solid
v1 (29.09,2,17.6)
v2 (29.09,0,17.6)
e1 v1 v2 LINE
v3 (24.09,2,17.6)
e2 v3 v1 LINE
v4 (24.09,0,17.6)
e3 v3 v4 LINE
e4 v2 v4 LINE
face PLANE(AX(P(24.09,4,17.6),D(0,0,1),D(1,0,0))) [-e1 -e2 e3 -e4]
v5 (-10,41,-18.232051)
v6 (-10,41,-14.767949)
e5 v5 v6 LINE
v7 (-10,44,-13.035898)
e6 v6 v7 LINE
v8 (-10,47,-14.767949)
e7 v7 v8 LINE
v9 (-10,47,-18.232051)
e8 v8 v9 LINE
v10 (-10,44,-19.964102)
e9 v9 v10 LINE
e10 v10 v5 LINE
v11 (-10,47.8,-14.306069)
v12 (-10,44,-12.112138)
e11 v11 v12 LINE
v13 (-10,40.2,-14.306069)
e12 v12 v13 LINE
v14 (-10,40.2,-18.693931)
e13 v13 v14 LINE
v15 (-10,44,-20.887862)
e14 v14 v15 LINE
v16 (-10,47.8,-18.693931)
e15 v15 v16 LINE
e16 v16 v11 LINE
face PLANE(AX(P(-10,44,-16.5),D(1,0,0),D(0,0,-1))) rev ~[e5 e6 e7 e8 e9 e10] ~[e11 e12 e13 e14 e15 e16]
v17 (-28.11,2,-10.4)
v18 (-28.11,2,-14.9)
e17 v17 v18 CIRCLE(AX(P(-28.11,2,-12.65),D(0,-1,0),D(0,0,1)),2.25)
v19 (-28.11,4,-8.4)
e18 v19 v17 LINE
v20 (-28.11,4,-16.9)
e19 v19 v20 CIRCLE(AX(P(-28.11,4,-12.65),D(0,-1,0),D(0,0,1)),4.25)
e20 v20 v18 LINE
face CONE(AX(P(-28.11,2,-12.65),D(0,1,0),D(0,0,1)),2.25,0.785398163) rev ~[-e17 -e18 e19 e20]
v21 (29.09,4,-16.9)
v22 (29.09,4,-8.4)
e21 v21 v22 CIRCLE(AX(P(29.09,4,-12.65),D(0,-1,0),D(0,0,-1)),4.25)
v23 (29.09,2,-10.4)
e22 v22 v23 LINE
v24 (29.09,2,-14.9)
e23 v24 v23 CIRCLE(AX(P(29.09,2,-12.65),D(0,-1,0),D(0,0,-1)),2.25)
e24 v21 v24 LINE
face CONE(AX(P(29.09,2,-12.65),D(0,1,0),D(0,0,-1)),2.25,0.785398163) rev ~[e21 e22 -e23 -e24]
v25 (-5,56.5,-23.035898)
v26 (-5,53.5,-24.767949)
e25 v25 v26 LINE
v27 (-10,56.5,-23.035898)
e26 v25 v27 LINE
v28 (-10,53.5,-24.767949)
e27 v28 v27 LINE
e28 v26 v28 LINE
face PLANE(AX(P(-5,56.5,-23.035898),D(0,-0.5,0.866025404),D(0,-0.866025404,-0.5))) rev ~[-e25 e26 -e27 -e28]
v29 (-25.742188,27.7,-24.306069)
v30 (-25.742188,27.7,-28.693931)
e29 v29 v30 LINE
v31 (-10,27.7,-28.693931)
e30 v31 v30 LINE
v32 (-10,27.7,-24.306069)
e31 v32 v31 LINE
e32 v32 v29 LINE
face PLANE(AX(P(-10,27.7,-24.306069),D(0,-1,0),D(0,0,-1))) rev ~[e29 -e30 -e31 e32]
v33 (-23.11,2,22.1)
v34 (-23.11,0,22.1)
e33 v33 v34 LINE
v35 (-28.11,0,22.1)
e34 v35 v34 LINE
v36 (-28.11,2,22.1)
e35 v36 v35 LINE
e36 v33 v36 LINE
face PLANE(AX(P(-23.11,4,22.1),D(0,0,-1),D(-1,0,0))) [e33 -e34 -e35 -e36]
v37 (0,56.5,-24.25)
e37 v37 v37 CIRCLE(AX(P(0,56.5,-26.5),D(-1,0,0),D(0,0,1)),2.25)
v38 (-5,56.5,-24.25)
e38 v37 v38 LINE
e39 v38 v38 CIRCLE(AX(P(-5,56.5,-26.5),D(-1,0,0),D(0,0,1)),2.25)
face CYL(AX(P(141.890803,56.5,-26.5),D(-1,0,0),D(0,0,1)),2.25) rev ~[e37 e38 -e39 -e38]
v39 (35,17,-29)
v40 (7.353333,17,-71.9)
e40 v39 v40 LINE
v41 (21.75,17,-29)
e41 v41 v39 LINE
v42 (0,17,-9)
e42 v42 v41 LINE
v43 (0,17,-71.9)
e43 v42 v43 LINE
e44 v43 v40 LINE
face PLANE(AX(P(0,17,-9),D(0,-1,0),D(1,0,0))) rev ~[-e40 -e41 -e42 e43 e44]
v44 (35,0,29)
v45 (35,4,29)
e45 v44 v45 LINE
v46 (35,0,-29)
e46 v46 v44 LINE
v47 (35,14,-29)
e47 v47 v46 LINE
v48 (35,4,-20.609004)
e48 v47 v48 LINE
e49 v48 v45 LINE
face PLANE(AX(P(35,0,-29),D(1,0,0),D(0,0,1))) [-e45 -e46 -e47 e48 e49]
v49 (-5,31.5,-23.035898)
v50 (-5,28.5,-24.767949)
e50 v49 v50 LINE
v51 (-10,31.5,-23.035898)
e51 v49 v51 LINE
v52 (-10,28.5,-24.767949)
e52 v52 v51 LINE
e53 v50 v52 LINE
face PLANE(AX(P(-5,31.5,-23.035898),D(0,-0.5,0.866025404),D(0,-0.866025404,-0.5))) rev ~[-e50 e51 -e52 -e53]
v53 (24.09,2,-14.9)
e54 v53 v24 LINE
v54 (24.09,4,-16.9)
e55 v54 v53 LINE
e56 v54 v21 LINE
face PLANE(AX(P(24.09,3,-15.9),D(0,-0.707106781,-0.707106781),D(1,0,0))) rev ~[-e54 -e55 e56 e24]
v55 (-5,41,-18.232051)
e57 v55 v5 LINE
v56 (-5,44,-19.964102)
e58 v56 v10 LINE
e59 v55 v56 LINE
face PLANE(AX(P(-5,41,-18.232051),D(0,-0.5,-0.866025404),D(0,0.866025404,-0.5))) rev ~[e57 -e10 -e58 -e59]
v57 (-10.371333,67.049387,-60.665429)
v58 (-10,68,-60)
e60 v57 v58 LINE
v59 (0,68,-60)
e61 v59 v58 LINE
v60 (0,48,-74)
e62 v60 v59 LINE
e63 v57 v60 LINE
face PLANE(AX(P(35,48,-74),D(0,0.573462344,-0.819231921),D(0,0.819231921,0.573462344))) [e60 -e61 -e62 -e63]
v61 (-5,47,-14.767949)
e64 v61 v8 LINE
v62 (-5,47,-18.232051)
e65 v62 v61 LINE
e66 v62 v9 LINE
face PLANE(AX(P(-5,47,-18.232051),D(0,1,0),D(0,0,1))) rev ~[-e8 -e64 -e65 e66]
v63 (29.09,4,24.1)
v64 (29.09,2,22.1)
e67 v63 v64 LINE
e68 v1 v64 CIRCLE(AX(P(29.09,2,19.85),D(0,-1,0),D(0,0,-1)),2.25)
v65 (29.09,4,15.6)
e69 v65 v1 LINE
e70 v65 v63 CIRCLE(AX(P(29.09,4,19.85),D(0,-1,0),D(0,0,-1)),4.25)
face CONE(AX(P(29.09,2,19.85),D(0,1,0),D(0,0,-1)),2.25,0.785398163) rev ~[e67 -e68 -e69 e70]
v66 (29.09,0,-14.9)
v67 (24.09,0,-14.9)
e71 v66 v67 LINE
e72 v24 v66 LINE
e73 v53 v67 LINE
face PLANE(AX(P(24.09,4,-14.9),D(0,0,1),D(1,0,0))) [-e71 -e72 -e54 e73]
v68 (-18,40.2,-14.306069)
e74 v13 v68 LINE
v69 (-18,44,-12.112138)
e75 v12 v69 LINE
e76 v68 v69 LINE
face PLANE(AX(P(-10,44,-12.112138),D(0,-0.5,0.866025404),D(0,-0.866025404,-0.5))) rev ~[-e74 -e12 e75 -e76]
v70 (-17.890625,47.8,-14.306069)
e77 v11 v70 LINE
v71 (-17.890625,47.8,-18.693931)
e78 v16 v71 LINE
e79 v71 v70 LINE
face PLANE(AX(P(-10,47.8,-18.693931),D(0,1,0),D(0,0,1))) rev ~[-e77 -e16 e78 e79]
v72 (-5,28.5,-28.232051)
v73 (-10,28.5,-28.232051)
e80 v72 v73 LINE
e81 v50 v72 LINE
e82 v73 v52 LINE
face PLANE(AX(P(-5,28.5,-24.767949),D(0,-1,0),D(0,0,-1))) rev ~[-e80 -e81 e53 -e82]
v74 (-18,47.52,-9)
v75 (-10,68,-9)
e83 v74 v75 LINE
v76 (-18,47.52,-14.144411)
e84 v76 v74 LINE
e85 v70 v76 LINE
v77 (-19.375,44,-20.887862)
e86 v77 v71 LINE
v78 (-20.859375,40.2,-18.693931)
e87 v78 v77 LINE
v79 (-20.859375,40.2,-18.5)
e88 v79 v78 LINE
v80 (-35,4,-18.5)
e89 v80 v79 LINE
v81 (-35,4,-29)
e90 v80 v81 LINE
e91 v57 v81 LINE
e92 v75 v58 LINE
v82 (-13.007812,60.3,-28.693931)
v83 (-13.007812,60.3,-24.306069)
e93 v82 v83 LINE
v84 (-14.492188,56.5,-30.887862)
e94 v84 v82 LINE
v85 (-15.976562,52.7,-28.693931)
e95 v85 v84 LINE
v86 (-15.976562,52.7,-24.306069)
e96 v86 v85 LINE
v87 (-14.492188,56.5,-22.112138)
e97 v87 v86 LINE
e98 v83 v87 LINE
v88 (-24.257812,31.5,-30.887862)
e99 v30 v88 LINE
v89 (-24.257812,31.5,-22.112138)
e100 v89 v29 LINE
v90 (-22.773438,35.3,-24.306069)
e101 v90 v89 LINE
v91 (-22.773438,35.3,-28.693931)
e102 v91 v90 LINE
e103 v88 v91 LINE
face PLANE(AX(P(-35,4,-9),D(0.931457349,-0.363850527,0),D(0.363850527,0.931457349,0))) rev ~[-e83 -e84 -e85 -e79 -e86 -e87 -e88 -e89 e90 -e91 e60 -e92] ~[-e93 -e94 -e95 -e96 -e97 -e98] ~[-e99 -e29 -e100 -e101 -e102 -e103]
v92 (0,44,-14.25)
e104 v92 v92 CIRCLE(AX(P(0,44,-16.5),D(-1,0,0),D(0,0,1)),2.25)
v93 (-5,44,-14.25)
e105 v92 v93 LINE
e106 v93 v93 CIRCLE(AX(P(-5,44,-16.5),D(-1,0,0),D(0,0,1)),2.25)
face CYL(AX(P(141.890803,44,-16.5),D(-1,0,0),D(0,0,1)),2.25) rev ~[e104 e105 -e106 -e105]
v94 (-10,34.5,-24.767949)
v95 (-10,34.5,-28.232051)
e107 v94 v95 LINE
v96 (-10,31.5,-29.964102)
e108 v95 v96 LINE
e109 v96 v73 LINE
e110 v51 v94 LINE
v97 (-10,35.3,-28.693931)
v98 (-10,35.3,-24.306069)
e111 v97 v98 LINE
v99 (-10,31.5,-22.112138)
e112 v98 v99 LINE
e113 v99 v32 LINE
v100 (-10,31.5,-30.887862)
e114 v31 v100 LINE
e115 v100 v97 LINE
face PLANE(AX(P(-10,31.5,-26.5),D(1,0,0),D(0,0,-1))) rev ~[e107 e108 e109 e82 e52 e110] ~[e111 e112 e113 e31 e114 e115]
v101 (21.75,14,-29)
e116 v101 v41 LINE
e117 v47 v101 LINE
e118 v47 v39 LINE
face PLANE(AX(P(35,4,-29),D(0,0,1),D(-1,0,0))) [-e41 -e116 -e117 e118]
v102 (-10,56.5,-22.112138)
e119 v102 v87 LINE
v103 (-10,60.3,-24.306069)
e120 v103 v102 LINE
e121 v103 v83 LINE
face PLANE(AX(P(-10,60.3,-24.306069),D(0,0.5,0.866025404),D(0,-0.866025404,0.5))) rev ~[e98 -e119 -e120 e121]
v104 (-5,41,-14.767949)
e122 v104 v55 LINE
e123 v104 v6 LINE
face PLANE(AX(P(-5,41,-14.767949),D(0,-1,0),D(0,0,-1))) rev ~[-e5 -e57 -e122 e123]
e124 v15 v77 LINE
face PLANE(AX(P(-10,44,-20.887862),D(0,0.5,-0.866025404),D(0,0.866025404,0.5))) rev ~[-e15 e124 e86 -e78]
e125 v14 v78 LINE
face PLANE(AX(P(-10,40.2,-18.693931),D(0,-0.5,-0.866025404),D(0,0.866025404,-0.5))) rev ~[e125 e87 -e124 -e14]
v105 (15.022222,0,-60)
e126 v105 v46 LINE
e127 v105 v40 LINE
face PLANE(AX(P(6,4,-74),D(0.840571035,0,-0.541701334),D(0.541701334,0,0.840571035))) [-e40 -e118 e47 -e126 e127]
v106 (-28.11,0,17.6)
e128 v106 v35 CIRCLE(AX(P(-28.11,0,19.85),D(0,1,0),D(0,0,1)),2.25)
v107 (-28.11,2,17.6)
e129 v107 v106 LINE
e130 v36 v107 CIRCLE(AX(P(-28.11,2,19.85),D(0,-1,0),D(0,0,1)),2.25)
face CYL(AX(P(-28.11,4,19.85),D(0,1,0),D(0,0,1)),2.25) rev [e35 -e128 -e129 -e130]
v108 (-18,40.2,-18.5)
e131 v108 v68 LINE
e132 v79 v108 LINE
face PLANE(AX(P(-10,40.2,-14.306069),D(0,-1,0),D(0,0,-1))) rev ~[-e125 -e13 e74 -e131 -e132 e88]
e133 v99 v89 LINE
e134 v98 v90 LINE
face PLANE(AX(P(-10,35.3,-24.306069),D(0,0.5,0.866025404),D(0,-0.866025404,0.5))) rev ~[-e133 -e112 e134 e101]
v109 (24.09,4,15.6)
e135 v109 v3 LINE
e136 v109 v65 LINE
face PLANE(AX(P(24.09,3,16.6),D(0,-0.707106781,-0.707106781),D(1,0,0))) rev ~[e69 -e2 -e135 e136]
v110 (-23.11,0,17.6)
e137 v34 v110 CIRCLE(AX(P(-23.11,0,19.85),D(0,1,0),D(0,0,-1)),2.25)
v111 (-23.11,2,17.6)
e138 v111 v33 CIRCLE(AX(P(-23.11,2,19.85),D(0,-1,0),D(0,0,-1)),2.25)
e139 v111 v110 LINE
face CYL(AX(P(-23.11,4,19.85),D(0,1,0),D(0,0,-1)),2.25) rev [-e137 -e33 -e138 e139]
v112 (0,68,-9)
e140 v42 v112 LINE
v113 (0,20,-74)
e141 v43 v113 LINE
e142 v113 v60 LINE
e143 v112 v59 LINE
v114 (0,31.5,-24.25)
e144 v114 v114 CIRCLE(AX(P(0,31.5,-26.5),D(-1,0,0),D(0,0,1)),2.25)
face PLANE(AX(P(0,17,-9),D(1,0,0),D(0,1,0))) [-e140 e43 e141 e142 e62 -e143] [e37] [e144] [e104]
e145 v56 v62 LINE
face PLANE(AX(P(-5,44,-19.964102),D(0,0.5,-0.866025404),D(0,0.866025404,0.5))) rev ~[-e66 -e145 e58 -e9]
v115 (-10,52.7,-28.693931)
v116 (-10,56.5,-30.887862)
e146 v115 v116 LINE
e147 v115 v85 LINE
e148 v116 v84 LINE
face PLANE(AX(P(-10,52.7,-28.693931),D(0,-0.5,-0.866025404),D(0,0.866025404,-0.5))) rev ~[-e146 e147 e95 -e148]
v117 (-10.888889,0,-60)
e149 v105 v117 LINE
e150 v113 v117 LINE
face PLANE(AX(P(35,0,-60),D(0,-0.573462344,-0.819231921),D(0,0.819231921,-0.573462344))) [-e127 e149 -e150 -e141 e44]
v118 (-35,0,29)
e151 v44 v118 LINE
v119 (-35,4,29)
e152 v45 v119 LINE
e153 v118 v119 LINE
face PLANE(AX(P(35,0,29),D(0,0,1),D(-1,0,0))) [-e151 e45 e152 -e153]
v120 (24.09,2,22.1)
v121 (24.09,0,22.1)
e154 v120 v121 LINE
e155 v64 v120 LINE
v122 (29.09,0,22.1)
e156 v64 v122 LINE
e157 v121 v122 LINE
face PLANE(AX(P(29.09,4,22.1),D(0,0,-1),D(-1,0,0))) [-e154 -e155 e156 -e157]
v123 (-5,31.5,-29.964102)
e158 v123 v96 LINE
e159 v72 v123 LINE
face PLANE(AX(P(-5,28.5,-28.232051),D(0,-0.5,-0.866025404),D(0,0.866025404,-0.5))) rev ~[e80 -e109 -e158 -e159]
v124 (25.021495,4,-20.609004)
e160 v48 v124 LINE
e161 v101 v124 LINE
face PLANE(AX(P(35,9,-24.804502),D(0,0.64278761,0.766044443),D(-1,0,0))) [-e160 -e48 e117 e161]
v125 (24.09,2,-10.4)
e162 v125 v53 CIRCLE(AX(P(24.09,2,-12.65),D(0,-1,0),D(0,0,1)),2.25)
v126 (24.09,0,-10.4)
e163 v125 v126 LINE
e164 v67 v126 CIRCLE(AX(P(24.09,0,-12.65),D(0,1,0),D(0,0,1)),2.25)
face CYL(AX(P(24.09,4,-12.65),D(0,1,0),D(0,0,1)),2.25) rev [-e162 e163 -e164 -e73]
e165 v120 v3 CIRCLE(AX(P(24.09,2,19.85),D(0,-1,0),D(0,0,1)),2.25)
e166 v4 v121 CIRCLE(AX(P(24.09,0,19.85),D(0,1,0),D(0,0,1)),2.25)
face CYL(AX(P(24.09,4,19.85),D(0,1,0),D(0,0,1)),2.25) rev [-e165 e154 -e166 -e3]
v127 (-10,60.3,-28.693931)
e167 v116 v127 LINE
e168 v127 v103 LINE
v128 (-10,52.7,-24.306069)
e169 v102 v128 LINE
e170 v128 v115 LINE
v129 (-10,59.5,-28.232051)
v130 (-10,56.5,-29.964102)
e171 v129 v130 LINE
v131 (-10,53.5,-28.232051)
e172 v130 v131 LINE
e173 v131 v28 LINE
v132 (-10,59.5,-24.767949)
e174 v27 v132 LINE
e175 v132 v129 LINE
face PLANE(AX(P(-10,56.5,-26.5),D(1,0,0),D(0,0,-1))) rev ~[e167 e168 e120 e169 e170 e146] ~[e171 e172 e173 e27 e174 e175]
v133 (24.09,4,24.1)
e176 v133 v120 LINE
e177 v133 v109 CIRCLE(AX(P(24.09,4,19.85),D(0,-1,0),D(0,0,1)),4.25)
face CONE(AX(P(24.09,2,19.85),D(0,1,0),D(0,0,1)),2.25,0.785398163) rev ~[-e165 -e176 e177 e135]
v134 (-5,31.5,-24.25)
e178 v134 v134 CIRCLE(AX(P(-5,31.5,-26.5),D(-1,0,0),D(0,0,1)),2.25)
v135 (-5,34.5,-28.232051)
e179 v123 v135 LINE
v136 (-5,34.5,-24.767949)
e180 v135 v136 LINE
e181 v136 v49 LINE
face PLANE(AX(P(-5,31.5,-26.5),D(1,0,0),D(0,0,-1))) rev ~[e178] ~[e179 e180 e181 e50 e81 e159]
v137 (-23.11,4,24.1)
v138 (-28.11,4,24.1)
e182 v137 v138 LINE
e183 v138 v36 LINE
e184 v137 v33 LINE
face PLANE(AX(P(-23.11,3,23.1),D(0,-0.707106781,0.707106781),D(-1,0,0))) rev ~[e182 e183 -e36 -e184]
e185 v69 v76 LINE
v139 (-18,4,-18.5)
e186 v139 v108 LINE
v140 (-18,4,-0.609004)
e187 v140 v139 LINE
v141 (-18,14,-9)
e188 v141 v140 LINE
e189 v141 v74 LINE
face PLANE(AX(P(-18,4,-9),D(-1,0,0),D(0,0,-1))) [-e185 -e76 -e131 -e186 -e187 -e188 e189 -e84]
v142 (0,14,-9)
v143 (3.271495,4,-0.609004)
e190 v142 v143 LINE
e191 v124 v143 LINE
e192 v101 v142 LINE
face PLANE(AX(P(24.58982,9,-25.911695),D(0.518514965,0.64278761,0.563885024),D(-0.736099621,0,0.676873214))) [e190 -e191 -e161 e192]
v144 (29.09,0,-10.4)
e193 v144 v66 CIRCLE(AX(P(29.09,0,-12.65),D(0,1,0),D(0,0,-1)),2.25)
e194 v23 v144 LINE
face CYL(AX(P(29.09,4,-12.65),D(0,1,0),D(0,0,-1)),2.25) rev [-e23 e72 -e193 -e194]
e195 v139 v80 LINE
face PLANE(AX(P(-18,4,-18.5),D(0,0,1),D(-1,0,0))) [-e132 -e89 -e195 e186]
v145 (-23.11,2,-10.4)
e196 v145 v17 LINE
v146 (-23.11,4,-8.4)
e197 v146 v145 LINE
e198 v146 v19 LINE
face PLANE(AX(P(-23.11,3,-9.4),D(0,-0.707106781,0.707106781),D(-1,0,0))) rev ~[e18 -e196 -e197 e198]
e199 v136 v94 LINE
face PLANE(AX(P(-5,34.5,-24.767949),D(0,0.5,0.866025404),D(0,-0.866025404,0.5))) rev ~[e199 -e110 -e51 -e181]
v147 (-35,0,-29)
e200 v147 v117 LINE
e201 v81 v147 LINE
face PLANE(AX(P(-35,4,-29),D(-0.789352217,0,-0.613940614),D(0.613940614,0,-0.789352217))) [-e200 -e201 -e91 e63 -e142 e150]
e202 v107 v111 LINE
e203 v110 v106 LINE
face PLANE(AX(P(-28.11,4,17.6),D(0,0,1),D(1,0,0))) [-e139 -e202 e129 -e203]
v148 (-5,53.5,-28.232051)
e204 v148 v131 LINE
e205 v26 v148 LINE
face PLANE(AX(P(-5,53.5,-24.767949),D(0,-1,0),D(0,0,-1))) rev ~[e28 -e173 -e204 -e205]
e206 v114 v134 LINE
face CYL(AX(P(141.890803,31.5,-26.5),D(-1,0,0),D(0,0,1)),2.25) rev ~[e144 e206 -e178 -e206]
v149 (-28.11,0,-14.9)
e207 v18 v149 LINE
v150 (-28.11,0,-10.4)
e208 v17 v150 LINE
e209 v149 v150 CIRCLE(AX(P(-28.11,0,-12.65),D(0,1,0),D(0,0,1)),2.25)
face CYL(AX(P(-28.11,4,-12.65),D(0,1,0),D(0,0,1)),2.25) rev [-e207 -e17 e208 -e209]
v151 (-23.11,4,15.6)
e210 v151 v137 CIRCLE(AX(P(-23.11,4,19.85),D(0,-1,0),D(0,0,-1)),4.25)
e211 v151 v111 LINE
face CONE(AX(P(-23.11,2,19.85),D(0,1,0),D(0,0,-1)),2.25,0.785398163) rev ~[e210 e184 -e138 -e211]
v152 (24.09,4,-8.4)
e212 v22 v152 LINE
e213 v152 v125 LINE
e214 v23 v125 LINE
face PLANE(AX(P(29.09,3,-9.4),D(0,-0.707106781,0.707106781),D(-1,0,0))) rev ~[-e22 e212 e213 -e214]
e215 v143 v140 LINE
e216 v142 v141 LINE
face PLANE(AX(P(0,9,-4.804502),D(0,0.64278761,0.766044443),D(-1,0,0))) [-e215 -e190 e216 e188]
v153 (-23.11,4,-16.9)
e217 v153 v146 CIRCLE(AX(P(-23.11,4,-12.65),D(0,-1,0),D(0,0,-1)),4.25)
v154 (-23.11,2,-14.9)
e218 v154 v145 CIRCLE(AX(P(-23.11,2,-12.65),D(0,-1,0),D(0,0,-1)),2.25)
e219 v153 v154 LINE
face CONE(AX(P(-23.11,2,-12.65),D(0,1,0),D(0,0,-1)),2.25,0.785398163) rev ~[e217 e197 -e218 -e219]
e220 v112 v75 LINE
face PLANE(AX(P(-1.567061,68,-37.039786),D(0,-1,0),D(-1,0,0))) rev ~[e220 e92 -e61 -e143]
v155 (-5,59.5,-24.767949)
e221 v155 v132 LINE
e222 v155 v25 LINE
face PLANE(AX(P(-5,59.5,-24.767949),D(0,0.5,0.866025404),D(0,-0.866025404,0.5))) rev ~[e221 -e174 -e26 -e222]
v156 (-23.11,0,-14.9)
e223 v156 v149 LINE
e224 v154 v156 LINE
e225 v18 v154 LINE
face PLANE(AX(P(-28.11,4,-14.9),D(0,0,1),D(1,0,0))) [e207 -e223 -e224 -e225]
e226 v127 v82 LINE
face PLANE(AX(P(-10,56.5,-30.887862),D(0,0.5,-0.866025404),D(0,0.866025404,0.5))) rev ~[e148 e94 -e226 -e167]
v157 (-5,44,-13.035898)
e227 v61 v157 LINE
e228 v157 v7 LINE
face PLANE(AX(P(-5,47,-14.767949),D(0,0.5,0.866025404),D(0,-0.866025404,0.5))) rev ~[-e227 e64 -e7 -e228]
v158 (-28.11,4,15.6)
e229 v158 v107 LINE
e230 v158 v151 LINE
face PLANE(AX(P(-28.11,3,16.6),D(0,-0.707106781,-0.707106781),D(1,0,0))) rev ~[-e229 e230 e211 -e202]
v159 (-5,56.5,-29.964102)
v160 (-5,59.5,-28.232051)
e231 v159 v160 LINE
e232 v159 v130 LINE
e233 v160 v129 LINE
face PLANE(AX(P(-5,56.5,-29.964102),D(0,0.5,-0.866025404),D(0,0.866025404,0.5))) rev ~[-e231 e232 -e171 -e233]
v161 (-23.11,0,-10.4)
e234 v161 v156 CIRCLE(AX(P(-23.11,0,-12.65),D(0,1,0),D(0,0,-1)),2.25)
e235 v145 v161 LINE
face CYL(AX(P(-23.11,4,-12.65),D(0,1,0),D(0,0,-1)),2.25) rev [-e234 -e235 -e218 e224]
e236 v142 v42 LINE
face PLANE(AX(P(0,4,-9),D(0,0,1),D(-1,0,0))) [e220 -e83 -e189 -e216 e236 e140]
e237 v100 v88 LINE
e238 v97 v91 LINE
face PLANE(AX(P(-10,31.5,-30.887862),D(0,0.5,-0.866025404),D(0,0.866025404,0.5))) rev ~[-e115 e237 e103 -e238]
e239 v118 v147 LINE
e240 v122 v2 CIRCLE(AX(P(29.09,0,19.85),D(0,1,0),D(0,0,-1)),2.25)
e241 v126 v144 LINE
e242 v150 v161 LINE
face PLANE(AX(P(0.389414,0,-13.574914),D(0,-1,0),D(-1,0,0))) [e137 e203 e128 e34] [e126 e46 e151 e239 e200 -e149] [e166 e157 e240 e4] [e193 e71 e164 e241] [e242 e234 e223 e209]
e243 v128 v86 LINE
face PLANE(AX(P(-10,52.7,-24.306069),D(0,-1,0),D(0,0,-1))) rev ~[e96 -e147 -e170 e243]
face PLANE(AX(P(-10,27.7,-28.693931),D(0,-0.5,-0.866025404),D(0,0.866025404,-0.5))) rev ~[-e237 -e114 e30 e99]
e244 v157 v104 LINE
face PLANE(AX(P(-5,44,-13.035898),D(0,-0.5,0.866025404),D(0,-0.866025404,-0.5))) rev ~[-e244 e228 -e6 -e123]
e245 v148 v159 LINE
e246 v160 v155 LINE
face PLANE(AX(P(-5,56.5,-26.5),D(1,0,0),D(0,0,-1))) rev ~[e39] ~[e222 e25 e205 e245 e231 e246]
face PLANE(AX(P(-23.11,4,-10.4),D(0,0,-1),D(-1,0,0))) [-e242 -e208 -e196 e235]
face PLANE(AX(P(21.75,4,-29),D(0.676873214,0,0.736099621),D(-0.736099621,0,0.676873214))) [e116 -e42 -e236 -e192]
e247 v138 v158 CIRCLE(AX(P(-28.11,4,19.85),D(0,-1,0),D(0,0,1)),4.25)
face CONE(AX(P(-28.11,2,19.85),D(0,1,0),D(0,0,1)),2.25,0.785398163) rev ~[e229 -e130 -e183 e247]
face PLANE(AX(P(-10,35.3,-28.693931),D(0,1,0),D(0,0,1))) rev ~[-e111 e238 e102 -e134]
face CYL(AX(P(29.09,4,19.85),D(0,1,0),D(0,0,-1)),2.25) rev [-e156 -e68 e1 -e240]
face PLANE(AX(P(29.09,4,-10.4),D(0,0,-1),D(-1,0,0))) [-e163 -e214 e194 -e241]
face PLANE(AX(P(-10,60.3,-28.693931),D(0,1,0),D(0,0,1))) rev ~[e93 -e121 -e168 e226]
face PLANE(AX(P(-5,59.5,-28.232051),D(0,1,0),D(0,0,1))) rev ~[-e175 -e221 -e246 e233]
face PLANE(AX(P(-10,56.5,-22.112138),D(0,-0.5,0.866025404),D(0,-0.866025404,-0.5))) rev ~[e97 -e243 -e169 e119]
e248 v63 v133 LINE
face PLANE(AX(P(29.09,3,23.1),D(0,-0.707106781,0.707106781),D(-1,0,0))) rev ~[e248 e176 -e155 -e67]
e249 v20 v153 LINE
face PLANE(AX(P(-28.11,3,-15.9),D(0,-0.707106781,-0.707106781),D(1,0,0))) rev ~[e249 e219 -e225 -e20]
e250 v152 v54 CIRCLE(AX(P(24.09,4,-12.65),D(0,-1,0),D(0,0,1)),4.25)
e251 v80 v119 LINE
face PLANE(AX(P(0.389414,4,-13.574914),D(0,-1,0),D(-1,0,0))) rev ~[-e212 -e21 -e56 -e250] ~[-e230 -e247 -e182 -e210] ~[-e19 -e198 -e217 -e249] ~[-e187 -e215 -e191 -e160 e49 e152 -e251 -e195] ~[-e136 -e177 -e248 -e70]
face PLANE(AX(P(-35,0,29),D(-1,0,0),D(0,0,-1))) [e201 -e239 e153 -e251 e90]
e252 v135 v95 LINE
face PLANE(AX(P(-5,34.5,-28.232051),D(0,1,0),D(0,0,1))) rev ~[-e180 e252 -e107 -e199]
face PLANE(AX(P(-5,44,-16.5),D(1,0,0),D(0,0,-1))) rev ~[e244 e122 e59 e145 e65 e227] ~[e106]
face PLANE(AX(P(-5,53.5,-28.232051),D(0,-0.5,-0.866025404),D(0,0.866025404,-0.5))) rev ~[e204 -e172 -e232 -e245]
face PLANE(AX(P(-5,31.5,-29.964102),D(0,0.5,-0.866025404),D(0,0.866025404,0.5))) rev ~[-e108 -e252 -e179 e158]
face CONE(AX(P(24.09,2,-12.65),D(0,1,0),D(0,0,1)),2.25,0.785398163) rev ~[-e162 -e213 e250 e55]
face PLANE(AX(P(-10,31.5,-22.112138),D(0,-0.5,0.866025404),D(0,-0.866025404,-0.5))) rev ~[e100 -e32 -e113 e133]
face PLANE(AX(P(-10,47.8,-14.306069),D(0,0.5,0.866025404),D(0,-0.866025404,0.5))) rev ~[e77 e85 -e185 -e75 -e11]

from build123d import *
from OCP.BRepFilletAPI import BRepFilletAPI_MakeChamfer

# Parameters (mm, degrees)
BOSS_EXTRUDE1_DEPTH        = 4
BOSS_EXTRUDE2_DEPTH        = 64
SKETCH3_W                  = 35
SKETCH3_H                  = 51
CUT_EXTRUDE1_DEPTH         = 101.369318021
CUT_EXTRUDE2_DEPTH         = 123.474487139
CHAMFER1_SIZE              = 10
CHAMFER1_SIZE2             = 8.390996312
F_4_5_4_5_DIAMETER_HOLE1_D = 4.5
CUT_EXTRUDE3_DEPTH         = 109.166538264
CUT_EXTRUDE4_DEPTH         = 111.113577728
CUT_EXTRUDE5_DEPTH         = 10
CHAMFER3_SIZE              = 2


with BuildPart() as part:
    # Sketch1 → Boss-Extrude1 (new body)
    with BuildSketch(Plane(origin=(0, 0, 0), x_dir=(1, 0, 0), z_dir=(0, 1, 0))):
        Polygon((-35, 29), (0, 74), (6, 74), (35, 29), (35, -29), (-35, -29), align=None)
    extrude(amount=BOSS_EXTRUDE1_DEPTH)

    # Sketch2 → Boss-Extrude2 (add)
    with BuildSketch(Plane(origin=(0, 4, 0), x_dir=(1, 0, 0), z_dir=(0, 1, 0))):
        Polygon((35, 29), (21.75, 29), (0, 9), (-18, 9), (-18, 18.5), (-35, 18.5), (-35, 29), (0, 74), (6, 74), align=None)
    extrude(amount=BOSS_EXTRUDE2_DEPTH)

    # Sketch3 → Cut-Extrude1 (cut, through all)
    with BuildSketch(Plane.XY.offset(-9)):
        Polygon((-35, 4), (-10, 68), (-35, 68), align=None)
        with Locations((17.5, 42.5)):
            Rectangle(SKETCH3_W, SKETCH3_H)
    extrude(amount=-CUT_EXTRUDE1_DEPTH, mode=Mode.SUBTRACT)

    # Sketch4 → Cut-Extrude2 (cut, through all)
    with BuildSketch(Plane(origin=(35, 0, 0), x_dir=(0, 0, -1), z_dir=(1, 0, 0))):
        Polygon((60, 0), (74, 20), (74, 0), align=None)
        Polygon((60, 68), (74, 68), (74, 48), align=None)
    extrude(amount=-CUT_EXTRUDE2_DEPTH, mode=Mode.SUBTRACT)

    # Chamfer1: one chamfer whose edges measure the first distance from different faces: ONE call of the kernel's chamfer builder (chamfer() names one face for all edges)
    chamfer1_edges_1 = [part.edges().sort_by_distance(p)[0] for p in [
        (-9, 4, -9),
    ]]
    chamfer1_side_1 = [part.faces().sort_by_distance(p)[0] for p in [
        (-8.515151515, 34.072854864, -9),
    ]]
    chamfer1_edges_2 = [part.edges().sort_by_distance(p)[0] for p in [
        (10.875, 4, -19),
    ]]
    chamfer1_side_2 = [part.faces().sort_by_distance(p)[0] for p in [
        (10.875, 10.5, -19),
    ]]
    chamfer1_edges_3 = [part.edges().sort_by_distance(p)[0] for p in [
        (28.375, 4, -29),
    ]]
    chamfer1_side_3 = [part.faces().sort_by_distance(p)[0] for p in [
        (28.375, 10.5, -29),
    ]]
    chamfer1 = BRepFilletAPI_MakeChamfer(part.part.solid().wrapped)
    for e in chamfer1_edges_1:
        chamfer1.Add(CHAMFER1_SIZE, CHAMFER1_SIZE2, e.wrapped, chamfer1_side_1[0].wrapped)  # the first distance lies on this face
    for e in chamfer1_edges_2:
        chamfer1.Add(CHAMFER1_SIZE, CHAMFER1_SIZE2, e.wrapped, chamfer1_side_2[0].wrapped)  # the first distance lies on this face
    for e in chamfer1_edges_3:
        chamfer1.Add(CHAMFER1_SIZE, CHAMFER1_SIZE2, e.wrapped, chamfer1_side_3[0].wrapped)  # the first distance lies on this face
    add(Compound.cast(chamfer1.Shape()), mode=Mode.REPLACE)

    # Ø4.5 (4.5) Diameter Hole1 (through all)
    with Locations(Plane(origin=(0, 0, 0), x_dir=(0, 0, -1), z_dir=(1, 0, 0))):
        with Locations((16.5, 44), (26.5, 31.5), (26.5, 56.5)):
            Hole(F_4_5_4_5_DIAMETER_HOLE1_D / 2)

    # Sketch9 → Cut-Extrude3 (cut, through all)
    with BuildSketch(Plane(origin=(-5, 0, 0), x_dir=(0, 0, -1), z_dir=(1, 0, 0))):
        Polygon((29.964101615, 56.5), (28.232050808, 59.5), (24.767949192, 59.5), (23.035898385, 56.5), (24.767949192, 53.5), (28.232050808, 53.5), align=None)
        Polygon((29.964101615, 31.5), (28.232050808, 34.5), (24.767949192, 34.5), (23.035898385, 31.5), (24.767949192, 28.5), (28.232050808, 28.5), align=None)
        Polygon((19.964101615, 44), (18.232050808, 47), (14.767949192, 47), (13.035898385, 44), (14.767949192, 41), (18.232050808, 41), align=None)
    extrude(amount=-CUT_EXTRUDE3_DEPTH, mode=Mode.SUBTRACT)

    # Sketch10 → Cut-Extrude4 (cut, through all)
    with BuildSketch(Plane(origin=(-10, 0, 0), x_dir=(0, 0, -1), z_dir=(1, 0, 0))):
        Polygon((30.887862046, 56.5), (28.693931023, 60.3), (24.306068977, 60.3), (22.112137954, 56.5), (24.306068977, 52.7), (28.693931023, 52.7), align=None)
        Polygon((20.887862046, 44), (18.693931023, 47.8), (14.306068977, 47.8), (12.112137954, 44), (14.306068977, 40.2), (18.693931023, 40.2), align=None)
        Polygon((30.887862046, 31.5), (28.693931023, 35.3), (24.306068977, 35.3), (22.112137954, 31.5), (24.306068977, 27.7), (28.693931023, 27.7), align=None)
    extrude(amount=-CUT_EXTRUDE4_DEPTH, mode=Mode.SUBTRACT)

    # Sketch11 → Cut-Extrude5 (cut)
    with BuildSketch(Plane(origin=(0, 4, 0), x_dir=(1, 0, 0), z_dir=(0, 1, 0))):
        with BuildLine():
            Line((-28.11, -17.6), (-23.11, -17.6))
            ThreePointArc((-23.11, -17.6), (-20.86, -19.85), (-23.11, -22.1))
            Line((-23.11, -22.1), (-28.11, -22.1))
            ThreePointArc((-28.11, -22.1), (-30.36, -19.85), (-28.11, -17.6))
        make_face()
        with BuildLine():
            Line((24.09, -17.6), (29.09, -17.6))
            ThreePointArc((29.09, -17.6), (31.34, -19.85), (29.09, -22.1))
            Line((29.09, -22.1), (24.09, -22.1))
            ThreePointArc((24.09, -22.1), (21.84, -19.85), (24.09, -17.6))
        make_face()
        with BuildLine():
            Line((-28.11, 14.9), (-23.11, 14.9))
            ThreePointArc((-23.11, 14.9), (-20.86, 12.65), (-23.11, 10.4))
            Line((-23.11, 10.4), (-28.11, 10.4))
            ThreePointArc((-28.11, 10.4), (-30.36, 12.65), (-28.11, 14.9))
        make_face()
        with BuildLine():
            Line((24.09, 14.9), (29.09, 14.9))
            ThreePointArc((29.09, 14.9), (31.34, 12.65), (29.09, 10.4))
            Line((29.09, 10.4), (24.09, 10.4))
            ThreePointArc((24.09, 10.4), (21.84, 12.65), (24.09, 14.9))
        make_face()
    extrude(amount=-CUT_EXTRUDE5_DEPTH, mode=Mode.SUBTRACT)

    # Chamfer3
    chamfer3_edges = [part.edges().sort_by_distance(p)[0] for p in [
        (21.84, 4, 19.85),
        (26.59, 4, 22.1),
        (31.34, 4, 19.85),
        (26.59, 4, 17.6),
        (-30.36, 4, -12.65),
        (-25.61, 4, -10.4),
        (-20.86, 4, -12.65),
        (-25.61, 4, -14.9),
        (21.84, 4, -12.65),
        (26.59, 4, -10.4),
        (31.34, 4, -12.65),
        (26.59, 4, -14.9),
        (-30.36, 4, 19.85),
        (-25.61, 4, 22.1),
        (-20.86, 4, 19.85),
        (-25.61, 4, 17.6),
    ]]
    chamfer(chamfer3_edges, length=CHAMFER3_SIZE)


solid = part.part
